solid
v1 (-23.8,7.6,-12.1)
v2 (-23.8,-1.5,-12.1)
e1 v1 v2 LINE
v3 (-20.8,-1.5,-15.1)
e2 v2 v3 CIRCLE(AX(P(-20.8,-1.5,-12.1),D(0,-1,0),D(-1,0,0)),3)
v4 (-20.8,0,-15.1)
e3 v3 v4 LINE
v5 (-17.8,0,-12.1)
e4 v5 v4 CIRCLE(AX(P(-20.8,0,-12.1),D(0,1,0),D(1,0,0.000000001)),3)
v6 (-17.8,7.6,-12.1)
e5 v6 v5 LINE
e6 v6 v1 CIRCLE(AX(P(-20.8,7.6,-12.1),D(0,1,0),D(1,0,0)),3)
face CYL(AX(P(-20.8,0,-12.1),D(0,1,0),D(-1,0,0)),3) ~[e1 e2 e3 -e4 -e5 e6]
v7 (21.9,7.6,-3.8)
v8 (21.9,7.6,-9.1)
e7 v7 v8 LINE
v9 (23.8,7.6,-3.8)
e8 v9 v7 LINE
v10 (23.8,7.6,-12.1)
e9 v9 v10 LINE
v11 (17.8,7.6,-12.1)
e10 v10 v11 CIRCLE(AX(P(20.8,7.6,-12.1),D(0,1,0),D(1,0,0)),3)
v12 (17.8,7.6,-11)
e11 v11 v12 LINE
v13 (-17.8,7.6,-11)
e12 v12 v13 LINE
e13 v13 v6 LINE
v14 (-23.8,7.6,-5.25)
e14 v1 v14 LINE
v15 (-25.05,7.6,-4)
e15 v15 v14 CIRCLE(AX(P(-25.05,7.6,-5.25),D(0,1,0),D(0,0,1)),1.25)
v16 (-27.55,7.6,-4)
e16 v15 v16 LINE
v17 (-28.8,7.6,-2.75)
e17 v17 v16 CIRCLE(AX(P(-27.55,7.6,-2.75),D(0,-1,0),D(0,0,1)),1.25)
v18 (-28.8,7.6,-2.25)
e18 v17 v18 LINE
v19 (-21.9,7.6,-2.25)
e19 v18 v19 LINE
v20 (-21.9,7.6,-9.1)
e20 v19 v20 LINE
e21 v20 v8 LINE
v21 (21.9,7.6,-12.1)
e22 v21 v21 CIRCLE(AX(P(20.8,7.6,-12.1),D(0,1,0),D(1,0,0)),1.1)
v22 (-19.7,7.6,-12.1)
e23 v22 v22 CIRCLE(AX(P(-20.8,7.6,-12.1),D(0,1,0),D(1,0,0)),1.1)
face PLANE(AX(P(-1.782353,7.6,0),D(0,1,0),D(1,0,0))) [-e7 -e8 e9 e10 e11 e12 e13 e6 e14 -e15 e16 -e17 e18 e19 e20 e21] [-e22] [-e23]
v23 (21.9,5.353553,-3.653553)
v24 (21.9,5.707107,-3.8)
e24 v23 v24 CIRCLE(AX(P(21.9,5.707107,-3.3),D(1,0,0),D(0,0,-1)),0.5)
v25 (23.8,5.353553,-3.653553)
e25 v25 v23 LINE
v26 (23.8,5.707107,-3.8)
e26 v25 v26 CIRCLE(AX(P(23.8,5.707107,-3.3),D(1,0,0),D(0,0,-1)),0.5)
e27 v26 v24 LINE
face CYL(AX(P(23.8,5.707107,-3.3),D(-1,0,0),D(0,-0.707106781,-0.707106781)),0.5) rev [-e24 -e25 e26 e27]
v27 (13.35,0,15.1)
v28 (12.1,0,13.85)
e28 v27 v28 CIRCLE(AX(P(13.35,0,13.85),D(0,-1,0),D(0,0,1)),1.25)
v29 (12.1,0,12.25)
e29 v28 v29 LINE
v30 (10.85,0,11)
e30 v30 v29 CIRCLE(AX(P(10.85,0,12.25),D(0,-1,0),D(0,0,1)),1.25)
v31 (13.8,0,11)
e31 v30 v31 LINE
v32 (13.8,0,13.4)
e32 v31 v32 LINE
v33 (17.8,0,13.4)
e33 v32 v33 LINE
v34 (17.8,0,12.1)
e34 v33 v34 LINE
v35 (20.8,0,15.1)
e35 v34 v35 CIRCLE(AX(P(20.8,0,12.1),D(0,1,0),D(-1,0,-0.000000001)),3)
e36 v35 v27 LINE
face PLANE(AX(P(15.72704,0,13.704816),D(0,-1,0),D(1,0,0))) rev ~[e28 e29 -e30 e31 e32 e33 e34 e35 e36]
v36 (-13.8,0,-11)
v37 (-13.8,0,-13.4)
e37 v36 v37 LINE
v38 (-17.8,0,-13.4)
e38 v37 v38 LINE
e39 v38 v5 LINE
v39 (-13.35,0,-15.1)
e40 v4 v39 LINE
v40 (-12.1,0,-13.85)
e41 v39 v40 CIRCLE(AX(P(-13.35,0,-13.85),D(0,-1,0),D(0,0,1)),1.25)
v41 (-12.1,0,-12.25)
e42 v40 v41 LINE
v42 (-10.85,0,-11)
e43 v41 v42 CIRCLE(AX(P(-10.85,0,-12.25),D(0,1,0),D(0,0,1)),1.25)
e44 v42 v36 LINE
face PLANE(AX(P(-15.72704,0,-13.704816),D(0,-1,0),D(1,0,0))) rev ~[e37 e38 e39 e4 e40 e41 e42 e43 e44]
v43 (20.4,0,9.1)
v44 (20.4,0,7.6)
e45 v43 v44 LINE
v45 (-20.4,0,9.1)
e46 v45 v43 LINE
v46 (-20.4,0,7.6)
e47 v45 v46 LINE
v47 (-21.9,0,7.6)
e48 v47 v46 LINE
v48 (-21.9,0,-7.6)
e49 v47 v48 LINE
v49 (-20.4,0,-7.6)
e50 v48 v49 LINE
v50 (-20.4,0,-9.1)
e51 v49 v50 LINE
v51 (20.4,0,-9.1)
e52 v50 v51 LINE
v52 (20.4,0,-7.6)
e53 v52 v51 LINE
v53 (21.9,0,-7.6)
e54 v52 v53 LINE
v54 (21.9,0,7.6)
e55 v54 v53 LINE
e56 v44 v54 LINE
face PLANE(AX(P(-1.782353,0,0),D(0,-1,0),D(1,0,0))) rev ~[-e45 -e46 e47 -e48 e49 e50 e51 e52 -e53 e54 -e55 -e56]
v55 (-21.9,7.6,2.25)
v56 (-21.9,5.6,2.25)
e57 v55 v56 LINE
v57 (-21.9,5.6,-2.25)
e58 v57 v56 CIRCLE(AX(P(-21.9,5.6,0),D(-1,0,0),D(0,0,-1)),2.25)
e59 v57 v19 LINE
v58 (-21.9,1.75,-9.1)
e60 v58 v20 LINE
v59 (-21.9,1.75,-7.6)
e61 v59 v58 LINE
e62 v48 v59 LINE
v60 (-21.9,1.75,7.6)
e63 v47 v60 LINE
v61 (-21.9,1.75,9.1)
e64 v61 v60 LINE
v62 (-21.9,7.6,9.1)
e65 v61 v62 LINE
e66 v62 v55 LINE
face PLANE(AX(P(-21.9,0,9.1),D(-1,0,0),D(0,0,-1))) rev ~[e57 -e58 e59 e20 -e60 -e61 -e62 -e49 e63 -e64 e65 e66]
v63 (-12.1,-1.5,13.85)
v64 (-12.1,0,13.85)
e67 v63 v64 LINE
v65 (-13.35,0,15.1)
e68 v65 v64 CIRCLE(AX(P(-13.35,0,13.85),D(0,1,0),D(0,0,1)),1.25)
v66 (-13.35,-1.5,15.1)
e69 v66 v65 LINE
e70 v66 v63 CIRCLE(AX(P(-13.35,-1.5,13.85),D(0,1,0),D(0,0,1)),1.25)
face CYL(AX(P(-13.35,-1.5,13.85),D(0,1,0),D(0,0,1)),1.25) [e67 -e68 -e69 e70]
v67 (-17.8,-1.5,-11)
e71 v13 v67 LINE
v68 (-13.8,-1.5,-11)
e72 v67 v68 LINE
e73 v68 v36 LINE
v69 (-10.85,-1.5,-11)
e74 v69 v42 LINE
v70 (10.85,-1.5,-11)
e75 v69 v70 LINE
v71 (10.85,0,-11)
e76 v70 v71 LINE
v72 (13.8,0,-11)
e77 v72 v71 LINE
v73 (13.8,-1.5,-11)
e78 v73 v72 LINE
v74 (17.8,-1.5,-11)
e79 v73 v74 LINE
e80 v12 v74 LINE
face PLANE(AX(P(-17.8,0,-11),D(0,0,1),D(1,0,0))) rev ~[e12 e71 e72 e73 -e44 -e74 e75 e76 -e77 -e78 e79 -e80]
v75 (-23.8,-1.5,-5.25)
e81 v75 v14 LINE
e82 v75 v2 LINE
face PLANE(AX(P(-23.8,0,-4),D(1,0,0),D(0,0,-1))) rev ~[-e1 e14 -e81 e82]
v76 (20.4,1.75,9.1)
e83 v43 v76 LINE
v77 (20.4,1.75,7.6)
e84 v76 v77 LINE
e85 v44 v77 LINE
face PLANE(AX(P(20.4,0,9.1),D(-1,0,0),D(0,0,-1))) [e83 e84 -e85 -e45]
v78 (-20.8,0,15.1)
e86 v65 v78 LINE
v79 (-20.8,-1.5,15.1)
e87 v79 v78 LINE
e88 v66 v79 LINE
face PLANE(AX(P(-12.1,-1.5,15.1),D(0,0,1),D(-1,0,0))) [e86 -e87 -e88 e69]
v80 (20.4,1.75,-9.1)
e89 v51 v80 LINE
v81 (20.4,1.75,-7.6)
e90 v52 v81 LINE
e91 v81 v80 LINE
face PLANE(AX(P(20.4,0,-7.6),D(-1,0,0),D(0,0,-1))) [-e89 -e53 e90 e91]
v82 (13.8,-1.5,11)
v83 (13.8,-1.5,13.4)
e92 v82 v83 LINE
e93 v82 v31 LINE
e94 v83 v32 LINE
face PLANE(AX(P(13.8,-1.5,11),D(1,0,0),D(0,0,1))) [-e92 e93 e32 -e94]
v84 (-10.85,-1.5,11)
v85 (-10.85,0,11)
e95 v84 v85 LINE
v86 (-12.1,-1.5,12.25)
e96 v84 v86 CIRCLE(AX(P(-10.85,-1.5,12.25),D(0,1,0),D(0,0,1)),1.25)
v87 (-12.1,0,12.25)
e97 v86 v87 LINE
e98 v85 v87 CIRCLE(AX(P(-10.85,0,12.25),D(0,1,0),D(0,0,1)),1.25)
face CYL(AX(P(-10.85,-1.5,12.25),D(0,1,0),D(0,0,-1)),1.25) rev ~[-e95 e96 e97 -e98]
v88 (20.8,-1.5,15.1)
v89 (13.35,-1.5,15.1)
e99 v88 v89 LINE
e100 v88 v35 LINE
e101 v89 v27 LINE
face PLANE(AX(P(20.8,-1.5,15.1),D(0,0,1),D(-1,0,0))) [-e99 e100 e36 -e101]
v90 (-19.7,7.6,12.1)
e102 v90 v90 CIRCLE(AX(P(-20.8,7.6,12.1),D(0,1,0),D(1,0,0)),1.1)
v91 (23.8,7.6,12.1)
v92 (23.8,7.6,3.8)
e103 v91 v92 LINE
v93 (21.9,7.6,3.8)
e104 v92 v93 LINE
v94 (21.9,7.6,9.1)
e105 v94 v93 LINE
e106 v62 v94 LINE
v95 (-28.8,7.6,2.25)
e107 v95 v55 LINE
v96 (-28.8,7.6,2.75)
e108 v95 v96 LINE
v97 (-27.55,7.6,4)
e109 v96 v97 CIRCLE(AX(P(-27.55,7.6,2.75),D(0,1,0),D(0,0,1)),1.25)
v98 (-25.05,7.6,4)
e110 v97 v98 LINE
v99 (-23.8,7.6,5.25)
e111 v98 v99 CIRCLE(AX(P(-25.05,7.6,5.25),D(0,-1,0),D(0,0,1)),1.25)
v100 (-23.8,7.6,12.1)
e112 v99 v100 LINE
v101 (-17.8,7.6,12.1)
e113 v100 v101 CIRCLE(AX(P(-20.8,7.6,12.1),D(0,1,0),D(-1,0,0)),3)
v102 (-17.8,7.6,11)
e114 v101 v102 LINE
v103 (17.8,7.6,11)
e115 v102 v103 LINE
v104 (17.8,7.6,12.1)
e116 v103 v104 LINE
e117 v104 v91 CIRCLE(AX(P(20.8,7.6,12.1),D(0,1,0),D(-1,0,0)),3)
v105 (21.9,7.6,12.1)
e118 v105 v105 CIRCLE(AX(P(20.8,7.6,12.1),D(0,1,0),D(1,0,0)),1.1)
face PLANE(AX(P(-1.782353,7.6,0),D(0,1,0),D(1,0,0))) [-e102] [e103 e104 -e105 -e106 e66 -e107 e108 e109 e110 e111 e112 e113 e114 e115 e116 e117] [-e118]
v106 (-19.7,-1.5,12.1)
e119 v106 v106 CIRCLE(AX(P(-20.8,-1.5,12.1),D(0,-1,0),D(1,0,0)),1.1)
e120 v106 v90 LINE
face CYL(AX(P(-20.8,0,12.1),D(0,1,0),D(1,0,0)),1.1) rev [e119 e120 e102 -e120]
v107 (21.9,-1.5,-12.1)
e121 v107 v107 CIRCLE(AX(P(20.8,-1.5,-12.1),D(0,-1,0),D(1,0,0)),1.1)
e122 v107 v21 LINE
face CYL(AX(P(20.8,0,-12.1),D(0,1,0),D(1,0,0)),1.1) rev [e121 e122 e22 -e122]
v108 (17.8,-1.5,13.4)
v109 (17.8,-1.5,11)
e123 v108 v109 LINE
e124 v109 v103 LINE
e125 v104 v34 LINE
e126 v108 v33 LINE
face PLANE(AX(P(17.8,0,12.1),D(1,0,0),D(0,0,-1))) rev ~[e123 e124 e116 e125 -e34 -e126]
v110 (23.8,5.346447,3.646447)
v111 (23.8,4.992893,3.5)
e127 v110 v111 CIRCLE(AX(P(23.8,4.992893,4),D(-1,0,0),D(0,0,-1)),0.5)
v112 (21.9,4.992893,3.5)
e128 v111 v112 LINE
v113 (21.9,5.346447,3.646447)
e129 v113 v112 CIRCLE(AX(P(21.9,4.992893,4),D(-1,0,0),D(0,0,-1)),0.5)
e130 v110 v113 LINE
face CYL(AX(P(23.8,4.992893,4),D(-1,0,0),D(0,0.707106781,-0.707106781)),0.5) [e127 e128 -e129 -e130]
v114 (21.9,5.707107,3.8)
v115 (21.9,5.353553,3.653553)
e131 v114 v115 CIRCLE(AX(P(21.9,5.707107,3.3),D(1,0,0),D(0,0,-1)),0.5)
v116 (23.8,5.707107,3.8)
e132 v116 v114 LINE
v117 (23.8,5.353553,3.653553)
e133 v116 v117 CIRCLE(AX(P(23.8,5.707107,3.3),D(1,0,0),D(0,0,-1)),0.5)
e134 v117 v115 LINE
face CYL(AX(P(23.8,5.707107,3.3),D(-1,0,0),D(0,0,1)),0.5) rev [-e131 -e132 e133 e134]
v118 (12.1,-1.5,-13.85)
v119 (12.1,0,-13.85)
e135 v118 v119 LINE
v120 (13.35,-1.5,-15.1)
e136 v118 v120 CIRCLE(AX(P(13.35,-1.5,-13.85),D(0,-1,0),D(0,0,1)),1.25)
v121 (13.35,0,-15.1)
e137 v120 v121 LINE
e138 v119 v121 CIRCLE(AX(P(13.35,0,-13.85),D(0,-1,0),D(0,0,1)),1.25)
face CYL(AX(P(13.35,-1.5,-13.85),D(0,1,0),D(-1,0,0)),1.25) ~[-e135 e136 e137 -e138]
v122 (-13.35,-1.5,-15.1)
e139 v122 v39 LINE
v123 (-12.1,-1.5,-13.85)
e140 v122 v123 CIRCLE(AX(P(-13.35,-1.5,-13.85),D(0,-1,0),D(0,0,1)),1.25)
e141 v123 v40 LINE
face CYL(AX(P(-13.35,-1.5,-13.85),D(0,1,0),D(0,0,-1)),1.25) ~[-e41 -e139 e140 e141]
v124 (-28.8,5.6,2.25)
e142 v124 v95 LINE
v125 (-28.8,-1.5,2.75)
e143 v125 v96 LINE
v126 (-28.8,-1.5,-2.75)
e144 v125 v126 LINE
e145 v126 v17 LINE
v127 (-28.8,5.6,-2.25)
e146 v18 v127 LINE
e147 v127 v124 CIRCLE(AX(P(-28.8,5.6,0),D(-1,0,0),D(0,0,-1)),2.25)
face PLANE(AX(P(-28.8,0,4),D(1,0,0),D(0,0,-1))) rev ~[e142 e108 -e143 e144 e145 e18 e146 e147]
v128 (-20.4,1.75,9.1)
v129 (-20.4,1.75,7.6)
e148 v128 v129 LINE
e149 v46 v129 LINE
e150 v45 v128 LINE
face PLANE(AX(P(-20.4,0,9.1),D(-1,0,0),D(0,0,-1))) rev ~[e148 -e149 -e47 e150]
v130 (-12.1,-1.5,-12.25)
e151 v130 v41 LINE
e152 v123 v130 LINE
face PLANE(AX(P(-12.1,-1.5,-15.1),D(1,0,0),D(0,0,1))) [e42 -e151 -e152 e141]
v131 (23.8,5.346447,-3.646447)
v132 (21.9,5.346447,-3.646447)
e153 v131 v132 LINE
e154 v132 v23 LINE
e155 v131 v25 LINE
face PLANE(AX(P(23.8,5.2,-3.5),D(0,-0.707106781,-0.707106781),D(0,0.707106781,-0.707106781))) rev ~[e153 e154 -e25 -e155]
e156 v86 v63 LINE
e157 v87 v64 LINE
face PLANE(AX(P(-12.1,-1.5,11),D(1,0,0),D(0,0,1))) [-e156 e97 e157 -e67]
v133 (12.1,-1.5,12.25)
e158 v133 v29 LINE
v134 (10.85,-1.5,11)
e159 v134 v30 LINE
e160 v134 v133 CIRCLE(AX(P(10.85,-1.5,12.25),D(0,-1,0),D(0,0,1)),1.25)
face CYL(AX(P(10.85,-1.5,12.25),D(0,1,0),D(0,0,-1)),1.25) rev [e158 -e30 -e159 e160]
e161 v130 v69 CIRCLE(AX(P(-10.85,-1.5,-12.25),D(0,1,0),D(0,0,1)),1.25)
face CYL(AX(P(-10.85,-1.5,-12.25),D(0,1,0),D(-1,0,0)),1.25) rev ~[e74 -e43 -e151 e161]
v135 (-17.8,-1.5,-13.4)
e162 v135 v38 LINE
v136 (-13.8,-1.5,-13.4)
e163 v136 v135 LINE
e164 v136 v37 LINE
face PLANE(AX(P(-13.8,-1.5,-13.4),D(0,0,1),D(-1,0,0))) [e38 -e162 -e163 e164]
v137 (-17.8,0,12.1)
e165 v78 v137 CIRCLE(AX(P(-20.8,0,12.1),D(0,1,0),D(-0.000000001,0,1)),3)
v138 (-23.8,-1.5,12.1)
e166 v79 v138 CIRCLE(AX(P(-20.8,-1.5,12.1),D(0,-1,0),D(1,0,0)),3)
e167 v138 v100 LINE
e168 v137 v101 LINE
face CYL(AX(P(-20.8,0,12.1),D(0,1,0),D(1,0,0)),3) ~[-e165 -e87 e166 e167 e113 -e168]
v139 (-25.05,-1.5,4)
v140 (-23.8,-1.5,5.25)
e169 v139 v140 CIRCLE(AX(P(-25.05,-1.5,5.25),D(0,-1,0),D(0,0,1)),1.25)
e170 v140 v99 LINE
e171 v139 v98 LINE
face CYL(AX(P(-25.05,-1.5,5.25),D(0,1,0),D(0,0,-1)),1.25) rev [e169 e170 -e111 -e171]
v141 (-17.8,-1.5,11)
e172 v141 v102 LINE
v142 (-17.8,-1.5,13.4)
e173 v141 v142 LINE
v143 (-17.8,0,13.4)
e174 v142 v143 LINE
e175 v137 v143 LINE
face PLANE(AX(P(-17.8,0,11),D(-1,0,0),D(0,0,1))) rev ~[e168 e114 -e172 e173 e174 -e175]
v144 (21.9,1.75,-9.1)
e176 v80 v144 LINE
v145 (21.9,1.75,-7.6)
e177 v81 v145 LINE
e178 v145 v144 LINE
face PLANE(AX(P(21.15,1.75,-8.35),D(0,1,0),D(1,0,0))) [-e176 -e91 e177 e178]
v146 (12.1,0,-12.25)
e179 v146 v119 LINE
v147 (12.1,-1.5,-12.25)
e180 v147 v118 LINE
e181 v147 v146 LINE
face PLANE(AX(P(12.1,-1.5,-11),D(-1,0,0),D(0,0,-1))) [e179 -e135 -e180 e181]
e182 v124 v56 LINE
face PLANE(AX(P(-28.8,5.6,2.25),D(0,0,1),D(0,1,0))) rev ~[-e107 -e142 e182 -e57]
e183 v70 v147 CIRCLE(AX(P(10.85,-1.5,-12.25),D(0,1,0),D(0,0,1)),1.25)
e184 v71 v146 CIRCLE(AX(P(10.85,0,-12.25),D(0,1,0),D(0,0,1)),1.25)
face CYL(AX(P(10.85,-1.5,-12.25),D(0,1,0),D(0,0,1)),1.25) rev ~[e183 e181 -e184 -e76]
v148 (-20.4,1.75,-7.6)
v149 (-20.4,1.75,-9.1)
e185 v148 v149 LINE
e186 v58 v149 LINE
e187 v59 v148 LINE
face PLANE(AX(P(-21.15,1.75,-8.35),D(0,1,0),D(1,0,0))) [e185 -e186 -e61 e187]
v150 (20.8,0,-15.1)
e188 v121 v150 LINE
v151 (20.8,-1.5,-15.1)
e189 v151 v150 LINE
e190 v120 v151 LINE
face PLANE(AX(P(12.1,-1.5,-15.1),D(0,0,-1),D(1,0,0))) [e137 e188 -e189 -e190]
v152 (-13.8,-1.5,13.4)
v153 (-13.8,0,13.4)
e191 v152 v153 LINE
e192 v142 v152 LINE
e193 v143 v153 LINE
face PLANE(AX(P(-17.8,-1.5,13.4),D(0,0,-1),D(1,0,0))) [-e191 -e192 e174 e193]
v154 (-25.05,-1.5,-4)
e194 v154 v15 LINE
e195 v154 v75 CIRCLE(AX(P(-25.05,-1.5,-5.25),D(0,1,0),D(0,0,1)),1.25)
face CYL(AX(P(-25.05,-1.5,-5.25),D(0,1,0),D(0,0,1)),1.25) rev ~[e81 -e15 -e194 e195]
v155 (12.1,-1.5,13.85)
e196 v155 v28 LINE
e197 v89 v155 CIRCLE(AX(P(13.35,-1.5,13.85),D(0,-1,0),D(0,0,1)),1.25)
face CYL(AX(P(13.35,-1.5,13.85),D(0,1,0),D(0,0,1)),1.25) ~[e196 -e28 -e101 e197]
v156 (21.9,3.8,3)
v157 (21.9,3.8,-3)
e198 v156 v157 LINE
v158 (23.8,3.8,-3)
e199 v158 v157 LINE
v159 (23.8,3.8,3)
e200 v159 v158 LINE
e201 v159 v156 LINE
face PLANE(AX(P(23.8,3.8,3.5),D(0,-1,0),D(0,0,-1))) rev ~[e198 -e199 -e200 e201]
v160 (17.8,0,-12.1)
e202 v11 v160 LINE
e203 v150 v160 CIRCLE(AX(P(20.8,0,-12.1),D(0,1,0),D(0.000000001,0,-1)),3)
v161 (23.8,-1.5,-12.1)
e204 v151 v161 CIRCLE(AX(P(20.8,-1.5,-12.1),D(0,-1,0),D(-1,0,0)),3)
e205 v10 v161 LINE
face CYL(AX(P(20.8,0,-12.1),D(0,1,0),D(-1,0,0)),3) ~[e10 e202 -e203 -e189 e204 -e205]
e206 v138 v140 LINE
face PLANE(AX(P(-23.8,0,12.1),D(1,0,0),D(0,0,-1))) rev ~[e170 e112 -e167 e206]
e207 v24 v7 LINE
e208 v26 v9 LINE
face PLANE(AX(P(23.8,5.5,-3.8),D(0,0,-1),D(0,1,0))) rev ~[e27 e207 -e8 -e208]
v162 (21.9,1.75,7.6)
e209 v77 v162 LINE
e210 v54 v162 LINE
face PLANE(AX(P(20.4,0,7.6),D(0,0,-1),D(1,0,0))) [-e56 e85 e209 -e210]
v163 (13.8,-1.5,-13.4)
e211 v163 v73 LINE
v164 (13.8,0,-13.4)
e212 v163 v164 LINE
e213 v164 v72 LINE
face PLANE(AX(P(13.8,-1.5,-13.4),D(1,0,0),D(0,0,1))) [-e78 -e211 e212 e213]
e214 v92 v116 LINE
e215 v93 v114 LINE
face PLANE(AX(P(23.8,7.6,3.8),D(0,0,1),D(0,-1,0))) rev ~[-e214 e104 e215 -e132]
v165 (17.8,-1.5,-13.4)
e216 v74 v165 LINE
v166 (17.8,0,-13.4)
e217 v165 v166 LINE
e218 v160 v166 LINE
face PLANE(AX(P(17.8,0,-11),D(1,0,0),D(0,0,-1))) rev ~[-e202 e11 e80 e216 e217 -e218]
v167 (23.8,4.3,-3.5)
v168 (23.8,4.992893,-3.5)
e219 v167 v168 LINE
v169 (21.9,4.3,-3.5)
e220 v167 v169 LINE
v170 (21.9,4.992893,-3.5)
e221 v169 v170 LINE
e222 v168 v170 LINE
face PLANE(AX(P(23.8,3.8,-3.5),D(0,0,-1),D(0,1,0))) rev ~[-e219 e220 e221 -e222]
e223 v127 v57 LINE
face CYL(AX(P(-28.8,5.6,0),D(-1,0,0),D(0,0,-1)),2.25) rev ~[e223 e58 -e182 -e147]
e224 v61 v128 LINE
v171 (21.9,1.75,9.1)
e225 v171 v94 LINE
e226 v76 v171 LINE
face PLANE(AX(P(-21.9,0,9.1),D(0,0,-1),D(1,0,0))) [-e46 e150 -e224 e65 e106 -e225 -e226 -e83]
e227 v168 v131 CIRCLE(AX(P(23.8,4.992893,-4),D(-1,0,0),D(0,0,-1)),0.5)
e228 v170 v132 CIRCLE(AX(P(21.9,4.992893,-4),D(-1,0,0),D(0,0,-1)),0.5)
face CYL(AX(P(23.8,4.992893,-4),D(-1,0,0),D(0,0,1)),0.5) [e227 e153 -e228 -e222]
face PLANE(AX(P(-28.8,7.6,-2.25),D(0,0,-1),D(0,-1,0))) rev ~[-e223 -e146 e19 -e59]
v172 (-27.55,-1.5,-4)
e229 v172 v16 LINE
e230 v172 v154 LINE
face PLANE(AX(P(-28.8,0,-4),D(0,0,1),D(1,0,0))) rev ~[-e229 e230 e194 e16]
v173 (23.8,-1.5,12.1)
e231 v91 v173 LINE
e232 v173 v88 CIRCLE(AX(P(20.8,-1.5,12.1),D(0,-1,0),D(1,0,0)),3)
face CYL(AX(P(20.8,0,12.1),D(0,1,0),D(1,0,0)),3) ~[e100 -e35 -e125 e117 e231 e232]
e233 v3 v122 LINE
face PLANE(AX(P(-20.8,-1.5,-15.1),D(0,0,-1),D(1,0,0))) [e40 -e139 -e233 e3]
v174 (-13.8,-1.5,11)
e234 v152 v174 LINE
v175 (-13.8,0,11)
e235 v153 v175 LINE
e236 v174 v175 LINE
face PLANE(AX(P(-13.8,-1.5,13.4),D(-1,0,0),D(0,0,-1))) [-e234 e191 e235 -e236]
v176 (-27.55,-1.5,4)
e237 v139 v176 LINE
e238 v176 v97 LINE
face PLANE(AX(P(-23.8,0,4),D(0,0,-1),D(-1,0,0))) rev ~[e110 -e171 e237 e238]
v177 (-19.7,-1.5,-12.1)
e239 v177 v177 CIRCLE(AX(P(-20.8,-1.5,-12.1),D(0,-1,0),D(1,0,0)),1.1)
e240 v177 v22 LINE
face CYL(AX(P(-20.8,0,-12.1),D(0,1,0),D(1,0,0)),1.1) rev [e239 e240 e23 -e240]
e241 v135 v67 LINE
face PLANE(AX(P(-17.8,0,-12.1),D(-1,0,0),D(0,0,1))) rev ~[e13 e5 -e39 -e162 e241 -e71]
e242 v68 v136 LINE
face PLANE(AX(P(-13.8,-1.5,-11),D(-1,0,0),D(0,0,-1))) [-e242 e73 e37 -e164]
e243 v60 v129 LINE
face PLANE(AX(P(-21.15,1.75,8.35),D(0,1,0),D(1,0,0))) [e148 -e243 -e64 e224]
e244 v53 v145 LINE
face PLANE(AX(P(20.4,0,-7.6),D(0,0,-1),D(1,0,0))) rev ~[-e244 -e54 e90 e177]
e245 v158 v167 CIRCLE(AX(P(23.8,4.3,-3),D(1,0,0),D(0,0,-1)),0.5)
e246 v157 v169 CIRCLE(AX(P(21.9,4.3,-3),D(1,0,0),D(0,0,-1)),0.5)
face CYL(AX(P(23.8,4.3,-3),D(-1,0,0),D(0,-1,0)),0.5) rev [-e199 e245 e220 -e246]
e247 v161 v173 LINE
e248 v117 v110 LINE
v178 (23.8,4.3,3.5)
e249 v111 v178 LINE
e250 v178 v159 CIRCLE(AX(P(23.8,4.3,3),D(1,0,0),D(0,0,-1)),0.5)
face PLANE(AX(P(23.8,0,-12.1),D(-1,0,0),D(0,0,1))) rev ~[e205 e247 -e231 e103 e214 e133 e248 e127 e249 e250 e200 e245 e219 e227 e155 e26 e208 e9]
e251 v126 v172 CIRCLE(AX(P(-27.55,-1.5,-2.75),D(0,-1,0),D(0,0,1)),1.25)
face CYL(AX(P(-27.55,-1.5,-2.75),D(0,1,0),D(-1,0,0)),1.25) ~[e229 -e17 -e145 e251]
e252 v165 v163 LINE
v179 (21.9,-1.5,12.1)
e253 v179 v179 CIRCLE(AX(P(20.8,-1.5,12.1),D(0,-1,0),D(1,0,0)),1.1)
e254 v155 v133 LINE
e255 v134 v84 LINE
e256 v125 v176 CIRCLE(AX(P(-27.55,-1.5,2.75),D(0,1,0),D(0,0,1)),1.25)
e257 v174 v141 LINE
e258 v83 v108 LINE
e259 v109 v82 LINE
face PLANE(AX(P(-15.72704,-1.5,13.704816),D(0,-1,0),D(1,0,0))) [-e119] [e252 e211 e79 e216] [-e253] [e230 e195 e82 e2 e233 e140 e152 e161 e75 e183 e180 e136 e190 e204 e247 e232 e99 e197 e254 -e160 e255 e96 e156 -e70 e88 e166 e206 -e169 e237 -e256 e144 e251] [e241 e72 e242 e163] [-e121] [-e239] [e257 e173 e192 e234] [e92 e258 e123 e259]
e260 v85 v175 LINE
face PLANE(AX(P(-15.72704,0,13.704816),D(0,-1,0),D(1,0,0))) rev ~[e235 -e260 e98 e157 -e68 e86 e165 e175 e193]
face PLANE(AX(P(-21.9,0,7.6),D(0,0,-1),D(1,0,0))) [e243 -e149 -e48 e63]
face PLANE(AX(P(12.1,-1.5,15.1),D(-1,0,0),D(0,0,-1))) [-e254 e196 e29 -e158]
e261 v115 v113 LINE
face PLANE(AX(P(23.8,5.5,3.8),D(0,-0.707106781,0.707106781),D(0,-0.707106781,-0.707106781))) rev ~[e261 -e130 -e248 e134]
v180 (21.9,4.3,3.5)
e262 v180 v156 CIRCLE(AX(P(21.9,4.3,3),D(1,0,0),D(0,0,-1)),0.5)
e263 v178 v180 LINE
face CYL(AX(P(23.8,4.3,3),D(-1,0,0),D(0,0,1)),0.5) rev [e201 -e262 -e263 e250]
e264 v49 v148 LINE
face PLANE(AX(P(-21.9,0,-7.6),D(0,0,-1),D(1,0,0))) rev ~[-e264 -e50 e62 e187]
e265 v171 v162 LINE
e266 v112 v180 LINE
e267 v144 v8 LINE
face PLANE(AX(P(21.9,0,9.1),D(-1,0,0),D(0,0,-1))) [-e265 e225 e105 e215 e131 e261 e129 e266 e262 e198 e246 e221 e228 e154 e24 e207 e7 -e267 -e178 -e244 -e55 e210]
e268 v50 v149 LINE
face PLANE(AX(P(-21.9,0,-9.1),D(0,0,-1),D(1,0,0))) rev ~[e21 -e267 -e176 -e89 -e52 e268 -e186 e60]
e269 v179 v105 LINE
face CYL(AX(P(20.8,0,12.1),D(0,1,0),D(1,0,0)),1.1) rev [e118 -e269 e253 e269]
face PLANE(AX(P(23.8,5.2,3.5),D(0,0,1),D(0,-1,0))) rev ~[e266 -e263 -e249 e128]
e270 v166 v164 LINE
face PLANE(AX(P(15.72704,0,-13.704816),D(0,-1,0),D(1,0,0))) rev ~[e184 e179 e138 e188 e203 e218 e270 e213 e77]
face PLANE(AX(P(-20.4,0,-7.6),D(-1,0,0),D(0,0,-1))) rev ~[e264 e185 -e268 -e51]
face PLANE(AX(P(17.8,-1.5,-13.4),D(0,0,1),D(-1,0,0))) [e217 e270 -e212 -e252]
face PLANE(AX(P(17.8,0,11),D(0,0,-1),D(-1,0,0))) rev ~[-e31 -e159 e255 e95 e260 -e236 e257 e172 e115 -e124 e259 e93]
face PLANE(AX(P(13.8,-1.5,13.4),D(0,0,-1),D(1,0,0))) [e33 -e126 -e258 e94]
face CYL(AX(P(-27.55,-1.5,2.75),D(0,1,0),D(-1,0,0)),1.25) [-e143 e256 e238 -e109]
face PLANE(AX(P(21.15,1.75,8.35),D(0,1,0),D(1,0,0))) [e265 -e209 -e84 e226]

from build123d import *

# Parameters (mm, degrees)
SKETCH1_W           = 43.8
SKETCH1_H           = 18.2
SKETCH1_R           = 1.1
BOSS_EXTRUDE1_DEPTH = 7.6
SKETCH3_R           = 1.1
BOSS_EXTRUDE2_DEPTH = 1.5
CUT_EXTRUDE1_REACH  = 54.6
SKETCH5_W           = 1.5
SKETCH5_H           = 1.5
BOSS_EXTRUDE3_DEPTH = 1.75
CUT_EXTRUDE2_REACH  = 54.6
BOSS_EXTRUDE4_DEPTH = 1.5
FILLET1_R           = 1.25
FILLET2_R           = 0.5


with BuildPart() as part:
    # Sketch1 → Boss-Extrude1 (new body)
    with BuildSketch(Plane(origin=(0, 0, 0), x_dir=(1, 0, 0), z_dir=(0, 1, 0))):
        with BuildLine():
            ThreePointArc((-23.8, -12.1), (-20.8, -15.1), (-17.8, -12.1))
            Line((-17.8, -12.1), (-17.8, -11))
            Line((-17.8, -11), (17.8, -11))
            Line((17.8, -11), (17.8, -12.1))
            ThreePointArc((17.8, -12.1), (20.8, -15.1), (23.8, -12.1))
            Line((23.8, -12.1), (23.8, 12.1))
            ThreePointArc((23.8, 12.1), (20.8, 15.1), (17.8, 12.1))
            Line((17.8, 12.1), (17.8, 11))
            Line((17.8, 11), (-17.8, 11))
            Line((-17.8, 11), (-17.8, 12.1))
            ThreePointArc((-17.8, 12.1), (-20.8, 15.1), (-23.8, 12.1))
            Line((-23.8, 12.1), (-23.8, 4))
            Line((-23.8, 4), (-28.8, 4))
            Line((-28.8, 4), (-28.8, -4))
            Line((-28.8, -4), (-23.8, -4))
            Line((-23.8, -4), (-23.8, -12.1))
        make_face()
        Rectangle(SKETCH1_W, SKETCH1_H, mode=Mode.SUBTRACT)
        with Locations((-20.8, 12.1)):
            Circle(SKETCH1_R, mode=Mode.SUBTRACT)
        with Locations((20.8, 12.1)):
            Circle(SKETCH1_R, mode=Mode.SUBTRACT)
        with Locations((-20.8, -12.1)):
            Circle(SKETCH1_R, mode=Mode.SUBTRACT)
        with Locations((20.8, -12.1)):
            Circle(SKETCH1_R, mode=Mode.SUBTRACT)
    extrude(amount=BOSS_EXTRUDE1_DEPTH)

    # Sketch3 → Boss-Extrude2 (add)
    with BuildSketch(Plane.XZ):
        with BuildLine():
            Line((-23.8, -4), (-23.8, -12.1))
            ThreePointArc((-23.8, -12.1), (-20.8, -15.1), (-17.8, -12.1))
            Line((-17.8, -12.1), (-17.8, -11))
            Line((-17.8, -11), (17.8, -11))
            Line((17.8, -11), (17.8, -12.1))
            ThreePointArc((17.8, -12.1), (20.8, -15.1), (23.8, -12.1))
            Line((23.8, -12.1), (23.8, 12.1))
            ThreePointArc((23.8, 12.1), (20.8, 15.1), (17.8, 12.1))
            Line((17.8, 12.1), (17.8, 11))
            Line((17.8, 11), (-17.8, 11))
            Line((-17.8, 11), (-17.8, 12.1))
            ThreePointArc((-17.8, 12.1), (-20.8, 15.1), (-23.8, 12.1))
            Line((-23.8, 12.1), (-23.8, 4))
            Line((-23.8, 4), (-28.8, 4))
            Line((-28.8, 4), (-28.8, -4))
            Line((-28.8, -4), (-23.8, -4))
        make_face()
        with Locations((-20.8, -12.1)):
            Circle(SKETCH3_R, mode=Mode.SUBTRACT)
        with Locations((20.8, -12.1)):
            Circle(SKETCH3_R, mode=Mode.SUBTRACT)
        with Locations((20.8, 12.1)):
            Circle(SKETCH3_R, mode=Mode.SUBTRACT)
        with Locations((-20.8, 12.1)):
            Circle(SKETCH3_R, mode=Mode.SUBTRACT)
    extrude(amount=BOSS_EXTRUDE2_DEPTH)

    # Sketch4 → Cut-Extrude1 (cut, up to next)
    with BuildSketch(Plane.ZY.offset(28.8), mode=Mode.PRIVATE) as cut_extrude1_sk1:
        with BuildLine():
            Line((-2.25, 7.6), (-2.25, 5.6))
            ThreePointArc((-2.25, 5.6), (0, 3.35), (2.25, 5.6))
            Line((2.25, 5.6), (2.25, 7.6))
            Line((2.25, 7.6), (-2.25, 7.6))
        make_face()
    cut_extrude1_tool1 = extrude(cut_extrude1_sk1.sketch, amount=-CUT_EXTRUDE1_REACH, mode=Mode.PRIVATE) & part.part
    add(cut_extrude1_tool1.solids().sort_by_distance((-28.8, 5.682954, 0))[0], mode=Mode.SUBTRACT)

    # Sketch5 → Boss-Extrude3 (add)
    with BuildSketch(Plane(origin=(0, 0, 0), x_dir=(1, 0, 0), z_dir=(0, 1, 0))):
        with Locations((-21.15, 8.35)):
            Rectangle(SKETCH5_W, SKETCH5_H)
        with Locations((21.15, 8.35)):
            Rectangle(SKETCH5_W, SKETCH5_H)
        with Locations((-21.15, -8.35)):
            Rectangle(SKETCH5_W, SKETCH5_H)
        with Locations((21.15, -8.35)):
            Rectangle(SKETCH5_W, SKETCH5_H)
    extrude(amount=BOSS_EXTRUDE3_DEPTH)

    # Sketch6 → Cut-Extrude2 (cut, up to next)
    with BuildSketch(Plane(origin=(23.8, 0, 0), x_dir=(0, 0, -1), z_dir=(1, 0, 0)), mode=Mode.PRIVATE) as cut_extrude2_sk1:
        Polygon((3.8, 7.6), (-3.8, 7.6), (-3.8, 5.5), (-3.5, 5.2), (-3.5, 3.8), (3.5, 3.8), (3.5, 5.2), (3.8, 5.5), align=None)
    cut_extrude2_tool1 = extrude(cut_extrude2_sk1.sketch, amount=-CUT_EXTRUDE2_REACH, mode=Mode.PRIVATE) & part.part
    add(cut_extrude2_tool1.solids().sort_by_distance((23.8, 5.737352, 0))[0], mode=Mode.SUBTRACT)

    # Sketch8 → Boss-Extrude4 (add)
    with BuildSketch(Plane.XZ.offset(1.5)):
        with BuildLine():
            Line((-12.1, 15.1), (-20.8, 15.1))
            ThreePointArc((-20.8, 15.1), (-18.678679656, 14.221320344), (-17.8, 12.1))
            Line((-17.8, 12.1), (-17.8, 13.4))
            Line((-17.8, 13.4), (-13.8, 13.4))
            Line((-13.8, 13.4), (-13.8, 11))
            Line((-13.8, 11), (-12.1, 11))
            Line((-12.1, 11), (-12.1, 15.1))
        make_face()
        with BuildLine():
            Line((12.1, 15.1), (12.1, 11))
            Line((12.1, 11), (13.8, 11))
            Line((13.8, 11), (13.8, 13.4))
            Line((13.8, 13.4), (17.8, 13.4))
            Line((17.8, 13.4), (17.8, 12.1))
            ThreePointArc((17.8, 12.1), (18.678679656, 14.221320344), (20.8, 15.1))
            Line((20.8, 15.1), (12.1, 15.1))
        make_face()
        with BuildLine():
            Line((13.8, -11), (12.1, -11))
            Line((12.1, -11), (12.1, -15.1))
            Line((12.1, -15.1), (20.8, -15.1))
            ThreePointArc((20.8, -15.1), (18.678679656, -14.221320344), (17.8, -12.1))
            Line((17.8, -12.1), (17.8, -13.4))
            Line((17.8, -13.4), (13.8, -13.4))
            Line((13.8, -13.4), (13.8, -11))
        make_face()
        with BuildLine():
            Line((-20.8, -15.1), (-12.1, -15.1))
            Line((-12.1, -15.1), (-12.1, -11))
            Line((-12.1, -11), (-13.8, -11))
            Line((-13.8, -11), (-13.8, -13.4))
            Line((-13.8, -13.4), (-17.8, -13.4))
            Line((-17.8, -13.4), (-17.8, -12.1))
            ThreePointArc((-17.8, -12.1), (-18.678679656, -14.221320344), (-20.8, -15.1))
        make_face()
    extrude(amount=-BOSS_EXTRUDE4_DEPTH)

    # Fillet1
    fillet1_edges = [part.edges().sort_by_distance(p)[0] for p in [
        (-12.1, -0.75, 15.1),
        (-12.1, -0.75, 11),
        (12.1, -0.75, 11),
        (12.1, -0.75, 15.1),
        (12.1, -0.75, -15.1),
        (12.1, -0.75, -11),
        (-12.1, -0.75, -11),
        (-12.1, -0.75, -15.1),
        (-23.8, 3.05, 4),
        (-28.8, 3.05, 4),
        (-28.8, 3.05, -4),
        (-23.8, 3.05, -4),
    ]]
    fillet(fillet1_edges, radius=FILLET1_R)

    # Fillet2
    fillet2_edges = [part.edges().sort_by_distance(p)[0] for p in [
        (22.85, 5.2, -3.5),
        (22.85, 3.8, -3.5),
        (22.85, 3.8, 3.5),
        (22.85, 5.2, 3.5),
        (22.85, 5.5, 3.8),
        (22.85, 5.5, -3.8),
    ]]
    fillet(fillet2_edges, radius=FILLET2_R)


solid = part.part
